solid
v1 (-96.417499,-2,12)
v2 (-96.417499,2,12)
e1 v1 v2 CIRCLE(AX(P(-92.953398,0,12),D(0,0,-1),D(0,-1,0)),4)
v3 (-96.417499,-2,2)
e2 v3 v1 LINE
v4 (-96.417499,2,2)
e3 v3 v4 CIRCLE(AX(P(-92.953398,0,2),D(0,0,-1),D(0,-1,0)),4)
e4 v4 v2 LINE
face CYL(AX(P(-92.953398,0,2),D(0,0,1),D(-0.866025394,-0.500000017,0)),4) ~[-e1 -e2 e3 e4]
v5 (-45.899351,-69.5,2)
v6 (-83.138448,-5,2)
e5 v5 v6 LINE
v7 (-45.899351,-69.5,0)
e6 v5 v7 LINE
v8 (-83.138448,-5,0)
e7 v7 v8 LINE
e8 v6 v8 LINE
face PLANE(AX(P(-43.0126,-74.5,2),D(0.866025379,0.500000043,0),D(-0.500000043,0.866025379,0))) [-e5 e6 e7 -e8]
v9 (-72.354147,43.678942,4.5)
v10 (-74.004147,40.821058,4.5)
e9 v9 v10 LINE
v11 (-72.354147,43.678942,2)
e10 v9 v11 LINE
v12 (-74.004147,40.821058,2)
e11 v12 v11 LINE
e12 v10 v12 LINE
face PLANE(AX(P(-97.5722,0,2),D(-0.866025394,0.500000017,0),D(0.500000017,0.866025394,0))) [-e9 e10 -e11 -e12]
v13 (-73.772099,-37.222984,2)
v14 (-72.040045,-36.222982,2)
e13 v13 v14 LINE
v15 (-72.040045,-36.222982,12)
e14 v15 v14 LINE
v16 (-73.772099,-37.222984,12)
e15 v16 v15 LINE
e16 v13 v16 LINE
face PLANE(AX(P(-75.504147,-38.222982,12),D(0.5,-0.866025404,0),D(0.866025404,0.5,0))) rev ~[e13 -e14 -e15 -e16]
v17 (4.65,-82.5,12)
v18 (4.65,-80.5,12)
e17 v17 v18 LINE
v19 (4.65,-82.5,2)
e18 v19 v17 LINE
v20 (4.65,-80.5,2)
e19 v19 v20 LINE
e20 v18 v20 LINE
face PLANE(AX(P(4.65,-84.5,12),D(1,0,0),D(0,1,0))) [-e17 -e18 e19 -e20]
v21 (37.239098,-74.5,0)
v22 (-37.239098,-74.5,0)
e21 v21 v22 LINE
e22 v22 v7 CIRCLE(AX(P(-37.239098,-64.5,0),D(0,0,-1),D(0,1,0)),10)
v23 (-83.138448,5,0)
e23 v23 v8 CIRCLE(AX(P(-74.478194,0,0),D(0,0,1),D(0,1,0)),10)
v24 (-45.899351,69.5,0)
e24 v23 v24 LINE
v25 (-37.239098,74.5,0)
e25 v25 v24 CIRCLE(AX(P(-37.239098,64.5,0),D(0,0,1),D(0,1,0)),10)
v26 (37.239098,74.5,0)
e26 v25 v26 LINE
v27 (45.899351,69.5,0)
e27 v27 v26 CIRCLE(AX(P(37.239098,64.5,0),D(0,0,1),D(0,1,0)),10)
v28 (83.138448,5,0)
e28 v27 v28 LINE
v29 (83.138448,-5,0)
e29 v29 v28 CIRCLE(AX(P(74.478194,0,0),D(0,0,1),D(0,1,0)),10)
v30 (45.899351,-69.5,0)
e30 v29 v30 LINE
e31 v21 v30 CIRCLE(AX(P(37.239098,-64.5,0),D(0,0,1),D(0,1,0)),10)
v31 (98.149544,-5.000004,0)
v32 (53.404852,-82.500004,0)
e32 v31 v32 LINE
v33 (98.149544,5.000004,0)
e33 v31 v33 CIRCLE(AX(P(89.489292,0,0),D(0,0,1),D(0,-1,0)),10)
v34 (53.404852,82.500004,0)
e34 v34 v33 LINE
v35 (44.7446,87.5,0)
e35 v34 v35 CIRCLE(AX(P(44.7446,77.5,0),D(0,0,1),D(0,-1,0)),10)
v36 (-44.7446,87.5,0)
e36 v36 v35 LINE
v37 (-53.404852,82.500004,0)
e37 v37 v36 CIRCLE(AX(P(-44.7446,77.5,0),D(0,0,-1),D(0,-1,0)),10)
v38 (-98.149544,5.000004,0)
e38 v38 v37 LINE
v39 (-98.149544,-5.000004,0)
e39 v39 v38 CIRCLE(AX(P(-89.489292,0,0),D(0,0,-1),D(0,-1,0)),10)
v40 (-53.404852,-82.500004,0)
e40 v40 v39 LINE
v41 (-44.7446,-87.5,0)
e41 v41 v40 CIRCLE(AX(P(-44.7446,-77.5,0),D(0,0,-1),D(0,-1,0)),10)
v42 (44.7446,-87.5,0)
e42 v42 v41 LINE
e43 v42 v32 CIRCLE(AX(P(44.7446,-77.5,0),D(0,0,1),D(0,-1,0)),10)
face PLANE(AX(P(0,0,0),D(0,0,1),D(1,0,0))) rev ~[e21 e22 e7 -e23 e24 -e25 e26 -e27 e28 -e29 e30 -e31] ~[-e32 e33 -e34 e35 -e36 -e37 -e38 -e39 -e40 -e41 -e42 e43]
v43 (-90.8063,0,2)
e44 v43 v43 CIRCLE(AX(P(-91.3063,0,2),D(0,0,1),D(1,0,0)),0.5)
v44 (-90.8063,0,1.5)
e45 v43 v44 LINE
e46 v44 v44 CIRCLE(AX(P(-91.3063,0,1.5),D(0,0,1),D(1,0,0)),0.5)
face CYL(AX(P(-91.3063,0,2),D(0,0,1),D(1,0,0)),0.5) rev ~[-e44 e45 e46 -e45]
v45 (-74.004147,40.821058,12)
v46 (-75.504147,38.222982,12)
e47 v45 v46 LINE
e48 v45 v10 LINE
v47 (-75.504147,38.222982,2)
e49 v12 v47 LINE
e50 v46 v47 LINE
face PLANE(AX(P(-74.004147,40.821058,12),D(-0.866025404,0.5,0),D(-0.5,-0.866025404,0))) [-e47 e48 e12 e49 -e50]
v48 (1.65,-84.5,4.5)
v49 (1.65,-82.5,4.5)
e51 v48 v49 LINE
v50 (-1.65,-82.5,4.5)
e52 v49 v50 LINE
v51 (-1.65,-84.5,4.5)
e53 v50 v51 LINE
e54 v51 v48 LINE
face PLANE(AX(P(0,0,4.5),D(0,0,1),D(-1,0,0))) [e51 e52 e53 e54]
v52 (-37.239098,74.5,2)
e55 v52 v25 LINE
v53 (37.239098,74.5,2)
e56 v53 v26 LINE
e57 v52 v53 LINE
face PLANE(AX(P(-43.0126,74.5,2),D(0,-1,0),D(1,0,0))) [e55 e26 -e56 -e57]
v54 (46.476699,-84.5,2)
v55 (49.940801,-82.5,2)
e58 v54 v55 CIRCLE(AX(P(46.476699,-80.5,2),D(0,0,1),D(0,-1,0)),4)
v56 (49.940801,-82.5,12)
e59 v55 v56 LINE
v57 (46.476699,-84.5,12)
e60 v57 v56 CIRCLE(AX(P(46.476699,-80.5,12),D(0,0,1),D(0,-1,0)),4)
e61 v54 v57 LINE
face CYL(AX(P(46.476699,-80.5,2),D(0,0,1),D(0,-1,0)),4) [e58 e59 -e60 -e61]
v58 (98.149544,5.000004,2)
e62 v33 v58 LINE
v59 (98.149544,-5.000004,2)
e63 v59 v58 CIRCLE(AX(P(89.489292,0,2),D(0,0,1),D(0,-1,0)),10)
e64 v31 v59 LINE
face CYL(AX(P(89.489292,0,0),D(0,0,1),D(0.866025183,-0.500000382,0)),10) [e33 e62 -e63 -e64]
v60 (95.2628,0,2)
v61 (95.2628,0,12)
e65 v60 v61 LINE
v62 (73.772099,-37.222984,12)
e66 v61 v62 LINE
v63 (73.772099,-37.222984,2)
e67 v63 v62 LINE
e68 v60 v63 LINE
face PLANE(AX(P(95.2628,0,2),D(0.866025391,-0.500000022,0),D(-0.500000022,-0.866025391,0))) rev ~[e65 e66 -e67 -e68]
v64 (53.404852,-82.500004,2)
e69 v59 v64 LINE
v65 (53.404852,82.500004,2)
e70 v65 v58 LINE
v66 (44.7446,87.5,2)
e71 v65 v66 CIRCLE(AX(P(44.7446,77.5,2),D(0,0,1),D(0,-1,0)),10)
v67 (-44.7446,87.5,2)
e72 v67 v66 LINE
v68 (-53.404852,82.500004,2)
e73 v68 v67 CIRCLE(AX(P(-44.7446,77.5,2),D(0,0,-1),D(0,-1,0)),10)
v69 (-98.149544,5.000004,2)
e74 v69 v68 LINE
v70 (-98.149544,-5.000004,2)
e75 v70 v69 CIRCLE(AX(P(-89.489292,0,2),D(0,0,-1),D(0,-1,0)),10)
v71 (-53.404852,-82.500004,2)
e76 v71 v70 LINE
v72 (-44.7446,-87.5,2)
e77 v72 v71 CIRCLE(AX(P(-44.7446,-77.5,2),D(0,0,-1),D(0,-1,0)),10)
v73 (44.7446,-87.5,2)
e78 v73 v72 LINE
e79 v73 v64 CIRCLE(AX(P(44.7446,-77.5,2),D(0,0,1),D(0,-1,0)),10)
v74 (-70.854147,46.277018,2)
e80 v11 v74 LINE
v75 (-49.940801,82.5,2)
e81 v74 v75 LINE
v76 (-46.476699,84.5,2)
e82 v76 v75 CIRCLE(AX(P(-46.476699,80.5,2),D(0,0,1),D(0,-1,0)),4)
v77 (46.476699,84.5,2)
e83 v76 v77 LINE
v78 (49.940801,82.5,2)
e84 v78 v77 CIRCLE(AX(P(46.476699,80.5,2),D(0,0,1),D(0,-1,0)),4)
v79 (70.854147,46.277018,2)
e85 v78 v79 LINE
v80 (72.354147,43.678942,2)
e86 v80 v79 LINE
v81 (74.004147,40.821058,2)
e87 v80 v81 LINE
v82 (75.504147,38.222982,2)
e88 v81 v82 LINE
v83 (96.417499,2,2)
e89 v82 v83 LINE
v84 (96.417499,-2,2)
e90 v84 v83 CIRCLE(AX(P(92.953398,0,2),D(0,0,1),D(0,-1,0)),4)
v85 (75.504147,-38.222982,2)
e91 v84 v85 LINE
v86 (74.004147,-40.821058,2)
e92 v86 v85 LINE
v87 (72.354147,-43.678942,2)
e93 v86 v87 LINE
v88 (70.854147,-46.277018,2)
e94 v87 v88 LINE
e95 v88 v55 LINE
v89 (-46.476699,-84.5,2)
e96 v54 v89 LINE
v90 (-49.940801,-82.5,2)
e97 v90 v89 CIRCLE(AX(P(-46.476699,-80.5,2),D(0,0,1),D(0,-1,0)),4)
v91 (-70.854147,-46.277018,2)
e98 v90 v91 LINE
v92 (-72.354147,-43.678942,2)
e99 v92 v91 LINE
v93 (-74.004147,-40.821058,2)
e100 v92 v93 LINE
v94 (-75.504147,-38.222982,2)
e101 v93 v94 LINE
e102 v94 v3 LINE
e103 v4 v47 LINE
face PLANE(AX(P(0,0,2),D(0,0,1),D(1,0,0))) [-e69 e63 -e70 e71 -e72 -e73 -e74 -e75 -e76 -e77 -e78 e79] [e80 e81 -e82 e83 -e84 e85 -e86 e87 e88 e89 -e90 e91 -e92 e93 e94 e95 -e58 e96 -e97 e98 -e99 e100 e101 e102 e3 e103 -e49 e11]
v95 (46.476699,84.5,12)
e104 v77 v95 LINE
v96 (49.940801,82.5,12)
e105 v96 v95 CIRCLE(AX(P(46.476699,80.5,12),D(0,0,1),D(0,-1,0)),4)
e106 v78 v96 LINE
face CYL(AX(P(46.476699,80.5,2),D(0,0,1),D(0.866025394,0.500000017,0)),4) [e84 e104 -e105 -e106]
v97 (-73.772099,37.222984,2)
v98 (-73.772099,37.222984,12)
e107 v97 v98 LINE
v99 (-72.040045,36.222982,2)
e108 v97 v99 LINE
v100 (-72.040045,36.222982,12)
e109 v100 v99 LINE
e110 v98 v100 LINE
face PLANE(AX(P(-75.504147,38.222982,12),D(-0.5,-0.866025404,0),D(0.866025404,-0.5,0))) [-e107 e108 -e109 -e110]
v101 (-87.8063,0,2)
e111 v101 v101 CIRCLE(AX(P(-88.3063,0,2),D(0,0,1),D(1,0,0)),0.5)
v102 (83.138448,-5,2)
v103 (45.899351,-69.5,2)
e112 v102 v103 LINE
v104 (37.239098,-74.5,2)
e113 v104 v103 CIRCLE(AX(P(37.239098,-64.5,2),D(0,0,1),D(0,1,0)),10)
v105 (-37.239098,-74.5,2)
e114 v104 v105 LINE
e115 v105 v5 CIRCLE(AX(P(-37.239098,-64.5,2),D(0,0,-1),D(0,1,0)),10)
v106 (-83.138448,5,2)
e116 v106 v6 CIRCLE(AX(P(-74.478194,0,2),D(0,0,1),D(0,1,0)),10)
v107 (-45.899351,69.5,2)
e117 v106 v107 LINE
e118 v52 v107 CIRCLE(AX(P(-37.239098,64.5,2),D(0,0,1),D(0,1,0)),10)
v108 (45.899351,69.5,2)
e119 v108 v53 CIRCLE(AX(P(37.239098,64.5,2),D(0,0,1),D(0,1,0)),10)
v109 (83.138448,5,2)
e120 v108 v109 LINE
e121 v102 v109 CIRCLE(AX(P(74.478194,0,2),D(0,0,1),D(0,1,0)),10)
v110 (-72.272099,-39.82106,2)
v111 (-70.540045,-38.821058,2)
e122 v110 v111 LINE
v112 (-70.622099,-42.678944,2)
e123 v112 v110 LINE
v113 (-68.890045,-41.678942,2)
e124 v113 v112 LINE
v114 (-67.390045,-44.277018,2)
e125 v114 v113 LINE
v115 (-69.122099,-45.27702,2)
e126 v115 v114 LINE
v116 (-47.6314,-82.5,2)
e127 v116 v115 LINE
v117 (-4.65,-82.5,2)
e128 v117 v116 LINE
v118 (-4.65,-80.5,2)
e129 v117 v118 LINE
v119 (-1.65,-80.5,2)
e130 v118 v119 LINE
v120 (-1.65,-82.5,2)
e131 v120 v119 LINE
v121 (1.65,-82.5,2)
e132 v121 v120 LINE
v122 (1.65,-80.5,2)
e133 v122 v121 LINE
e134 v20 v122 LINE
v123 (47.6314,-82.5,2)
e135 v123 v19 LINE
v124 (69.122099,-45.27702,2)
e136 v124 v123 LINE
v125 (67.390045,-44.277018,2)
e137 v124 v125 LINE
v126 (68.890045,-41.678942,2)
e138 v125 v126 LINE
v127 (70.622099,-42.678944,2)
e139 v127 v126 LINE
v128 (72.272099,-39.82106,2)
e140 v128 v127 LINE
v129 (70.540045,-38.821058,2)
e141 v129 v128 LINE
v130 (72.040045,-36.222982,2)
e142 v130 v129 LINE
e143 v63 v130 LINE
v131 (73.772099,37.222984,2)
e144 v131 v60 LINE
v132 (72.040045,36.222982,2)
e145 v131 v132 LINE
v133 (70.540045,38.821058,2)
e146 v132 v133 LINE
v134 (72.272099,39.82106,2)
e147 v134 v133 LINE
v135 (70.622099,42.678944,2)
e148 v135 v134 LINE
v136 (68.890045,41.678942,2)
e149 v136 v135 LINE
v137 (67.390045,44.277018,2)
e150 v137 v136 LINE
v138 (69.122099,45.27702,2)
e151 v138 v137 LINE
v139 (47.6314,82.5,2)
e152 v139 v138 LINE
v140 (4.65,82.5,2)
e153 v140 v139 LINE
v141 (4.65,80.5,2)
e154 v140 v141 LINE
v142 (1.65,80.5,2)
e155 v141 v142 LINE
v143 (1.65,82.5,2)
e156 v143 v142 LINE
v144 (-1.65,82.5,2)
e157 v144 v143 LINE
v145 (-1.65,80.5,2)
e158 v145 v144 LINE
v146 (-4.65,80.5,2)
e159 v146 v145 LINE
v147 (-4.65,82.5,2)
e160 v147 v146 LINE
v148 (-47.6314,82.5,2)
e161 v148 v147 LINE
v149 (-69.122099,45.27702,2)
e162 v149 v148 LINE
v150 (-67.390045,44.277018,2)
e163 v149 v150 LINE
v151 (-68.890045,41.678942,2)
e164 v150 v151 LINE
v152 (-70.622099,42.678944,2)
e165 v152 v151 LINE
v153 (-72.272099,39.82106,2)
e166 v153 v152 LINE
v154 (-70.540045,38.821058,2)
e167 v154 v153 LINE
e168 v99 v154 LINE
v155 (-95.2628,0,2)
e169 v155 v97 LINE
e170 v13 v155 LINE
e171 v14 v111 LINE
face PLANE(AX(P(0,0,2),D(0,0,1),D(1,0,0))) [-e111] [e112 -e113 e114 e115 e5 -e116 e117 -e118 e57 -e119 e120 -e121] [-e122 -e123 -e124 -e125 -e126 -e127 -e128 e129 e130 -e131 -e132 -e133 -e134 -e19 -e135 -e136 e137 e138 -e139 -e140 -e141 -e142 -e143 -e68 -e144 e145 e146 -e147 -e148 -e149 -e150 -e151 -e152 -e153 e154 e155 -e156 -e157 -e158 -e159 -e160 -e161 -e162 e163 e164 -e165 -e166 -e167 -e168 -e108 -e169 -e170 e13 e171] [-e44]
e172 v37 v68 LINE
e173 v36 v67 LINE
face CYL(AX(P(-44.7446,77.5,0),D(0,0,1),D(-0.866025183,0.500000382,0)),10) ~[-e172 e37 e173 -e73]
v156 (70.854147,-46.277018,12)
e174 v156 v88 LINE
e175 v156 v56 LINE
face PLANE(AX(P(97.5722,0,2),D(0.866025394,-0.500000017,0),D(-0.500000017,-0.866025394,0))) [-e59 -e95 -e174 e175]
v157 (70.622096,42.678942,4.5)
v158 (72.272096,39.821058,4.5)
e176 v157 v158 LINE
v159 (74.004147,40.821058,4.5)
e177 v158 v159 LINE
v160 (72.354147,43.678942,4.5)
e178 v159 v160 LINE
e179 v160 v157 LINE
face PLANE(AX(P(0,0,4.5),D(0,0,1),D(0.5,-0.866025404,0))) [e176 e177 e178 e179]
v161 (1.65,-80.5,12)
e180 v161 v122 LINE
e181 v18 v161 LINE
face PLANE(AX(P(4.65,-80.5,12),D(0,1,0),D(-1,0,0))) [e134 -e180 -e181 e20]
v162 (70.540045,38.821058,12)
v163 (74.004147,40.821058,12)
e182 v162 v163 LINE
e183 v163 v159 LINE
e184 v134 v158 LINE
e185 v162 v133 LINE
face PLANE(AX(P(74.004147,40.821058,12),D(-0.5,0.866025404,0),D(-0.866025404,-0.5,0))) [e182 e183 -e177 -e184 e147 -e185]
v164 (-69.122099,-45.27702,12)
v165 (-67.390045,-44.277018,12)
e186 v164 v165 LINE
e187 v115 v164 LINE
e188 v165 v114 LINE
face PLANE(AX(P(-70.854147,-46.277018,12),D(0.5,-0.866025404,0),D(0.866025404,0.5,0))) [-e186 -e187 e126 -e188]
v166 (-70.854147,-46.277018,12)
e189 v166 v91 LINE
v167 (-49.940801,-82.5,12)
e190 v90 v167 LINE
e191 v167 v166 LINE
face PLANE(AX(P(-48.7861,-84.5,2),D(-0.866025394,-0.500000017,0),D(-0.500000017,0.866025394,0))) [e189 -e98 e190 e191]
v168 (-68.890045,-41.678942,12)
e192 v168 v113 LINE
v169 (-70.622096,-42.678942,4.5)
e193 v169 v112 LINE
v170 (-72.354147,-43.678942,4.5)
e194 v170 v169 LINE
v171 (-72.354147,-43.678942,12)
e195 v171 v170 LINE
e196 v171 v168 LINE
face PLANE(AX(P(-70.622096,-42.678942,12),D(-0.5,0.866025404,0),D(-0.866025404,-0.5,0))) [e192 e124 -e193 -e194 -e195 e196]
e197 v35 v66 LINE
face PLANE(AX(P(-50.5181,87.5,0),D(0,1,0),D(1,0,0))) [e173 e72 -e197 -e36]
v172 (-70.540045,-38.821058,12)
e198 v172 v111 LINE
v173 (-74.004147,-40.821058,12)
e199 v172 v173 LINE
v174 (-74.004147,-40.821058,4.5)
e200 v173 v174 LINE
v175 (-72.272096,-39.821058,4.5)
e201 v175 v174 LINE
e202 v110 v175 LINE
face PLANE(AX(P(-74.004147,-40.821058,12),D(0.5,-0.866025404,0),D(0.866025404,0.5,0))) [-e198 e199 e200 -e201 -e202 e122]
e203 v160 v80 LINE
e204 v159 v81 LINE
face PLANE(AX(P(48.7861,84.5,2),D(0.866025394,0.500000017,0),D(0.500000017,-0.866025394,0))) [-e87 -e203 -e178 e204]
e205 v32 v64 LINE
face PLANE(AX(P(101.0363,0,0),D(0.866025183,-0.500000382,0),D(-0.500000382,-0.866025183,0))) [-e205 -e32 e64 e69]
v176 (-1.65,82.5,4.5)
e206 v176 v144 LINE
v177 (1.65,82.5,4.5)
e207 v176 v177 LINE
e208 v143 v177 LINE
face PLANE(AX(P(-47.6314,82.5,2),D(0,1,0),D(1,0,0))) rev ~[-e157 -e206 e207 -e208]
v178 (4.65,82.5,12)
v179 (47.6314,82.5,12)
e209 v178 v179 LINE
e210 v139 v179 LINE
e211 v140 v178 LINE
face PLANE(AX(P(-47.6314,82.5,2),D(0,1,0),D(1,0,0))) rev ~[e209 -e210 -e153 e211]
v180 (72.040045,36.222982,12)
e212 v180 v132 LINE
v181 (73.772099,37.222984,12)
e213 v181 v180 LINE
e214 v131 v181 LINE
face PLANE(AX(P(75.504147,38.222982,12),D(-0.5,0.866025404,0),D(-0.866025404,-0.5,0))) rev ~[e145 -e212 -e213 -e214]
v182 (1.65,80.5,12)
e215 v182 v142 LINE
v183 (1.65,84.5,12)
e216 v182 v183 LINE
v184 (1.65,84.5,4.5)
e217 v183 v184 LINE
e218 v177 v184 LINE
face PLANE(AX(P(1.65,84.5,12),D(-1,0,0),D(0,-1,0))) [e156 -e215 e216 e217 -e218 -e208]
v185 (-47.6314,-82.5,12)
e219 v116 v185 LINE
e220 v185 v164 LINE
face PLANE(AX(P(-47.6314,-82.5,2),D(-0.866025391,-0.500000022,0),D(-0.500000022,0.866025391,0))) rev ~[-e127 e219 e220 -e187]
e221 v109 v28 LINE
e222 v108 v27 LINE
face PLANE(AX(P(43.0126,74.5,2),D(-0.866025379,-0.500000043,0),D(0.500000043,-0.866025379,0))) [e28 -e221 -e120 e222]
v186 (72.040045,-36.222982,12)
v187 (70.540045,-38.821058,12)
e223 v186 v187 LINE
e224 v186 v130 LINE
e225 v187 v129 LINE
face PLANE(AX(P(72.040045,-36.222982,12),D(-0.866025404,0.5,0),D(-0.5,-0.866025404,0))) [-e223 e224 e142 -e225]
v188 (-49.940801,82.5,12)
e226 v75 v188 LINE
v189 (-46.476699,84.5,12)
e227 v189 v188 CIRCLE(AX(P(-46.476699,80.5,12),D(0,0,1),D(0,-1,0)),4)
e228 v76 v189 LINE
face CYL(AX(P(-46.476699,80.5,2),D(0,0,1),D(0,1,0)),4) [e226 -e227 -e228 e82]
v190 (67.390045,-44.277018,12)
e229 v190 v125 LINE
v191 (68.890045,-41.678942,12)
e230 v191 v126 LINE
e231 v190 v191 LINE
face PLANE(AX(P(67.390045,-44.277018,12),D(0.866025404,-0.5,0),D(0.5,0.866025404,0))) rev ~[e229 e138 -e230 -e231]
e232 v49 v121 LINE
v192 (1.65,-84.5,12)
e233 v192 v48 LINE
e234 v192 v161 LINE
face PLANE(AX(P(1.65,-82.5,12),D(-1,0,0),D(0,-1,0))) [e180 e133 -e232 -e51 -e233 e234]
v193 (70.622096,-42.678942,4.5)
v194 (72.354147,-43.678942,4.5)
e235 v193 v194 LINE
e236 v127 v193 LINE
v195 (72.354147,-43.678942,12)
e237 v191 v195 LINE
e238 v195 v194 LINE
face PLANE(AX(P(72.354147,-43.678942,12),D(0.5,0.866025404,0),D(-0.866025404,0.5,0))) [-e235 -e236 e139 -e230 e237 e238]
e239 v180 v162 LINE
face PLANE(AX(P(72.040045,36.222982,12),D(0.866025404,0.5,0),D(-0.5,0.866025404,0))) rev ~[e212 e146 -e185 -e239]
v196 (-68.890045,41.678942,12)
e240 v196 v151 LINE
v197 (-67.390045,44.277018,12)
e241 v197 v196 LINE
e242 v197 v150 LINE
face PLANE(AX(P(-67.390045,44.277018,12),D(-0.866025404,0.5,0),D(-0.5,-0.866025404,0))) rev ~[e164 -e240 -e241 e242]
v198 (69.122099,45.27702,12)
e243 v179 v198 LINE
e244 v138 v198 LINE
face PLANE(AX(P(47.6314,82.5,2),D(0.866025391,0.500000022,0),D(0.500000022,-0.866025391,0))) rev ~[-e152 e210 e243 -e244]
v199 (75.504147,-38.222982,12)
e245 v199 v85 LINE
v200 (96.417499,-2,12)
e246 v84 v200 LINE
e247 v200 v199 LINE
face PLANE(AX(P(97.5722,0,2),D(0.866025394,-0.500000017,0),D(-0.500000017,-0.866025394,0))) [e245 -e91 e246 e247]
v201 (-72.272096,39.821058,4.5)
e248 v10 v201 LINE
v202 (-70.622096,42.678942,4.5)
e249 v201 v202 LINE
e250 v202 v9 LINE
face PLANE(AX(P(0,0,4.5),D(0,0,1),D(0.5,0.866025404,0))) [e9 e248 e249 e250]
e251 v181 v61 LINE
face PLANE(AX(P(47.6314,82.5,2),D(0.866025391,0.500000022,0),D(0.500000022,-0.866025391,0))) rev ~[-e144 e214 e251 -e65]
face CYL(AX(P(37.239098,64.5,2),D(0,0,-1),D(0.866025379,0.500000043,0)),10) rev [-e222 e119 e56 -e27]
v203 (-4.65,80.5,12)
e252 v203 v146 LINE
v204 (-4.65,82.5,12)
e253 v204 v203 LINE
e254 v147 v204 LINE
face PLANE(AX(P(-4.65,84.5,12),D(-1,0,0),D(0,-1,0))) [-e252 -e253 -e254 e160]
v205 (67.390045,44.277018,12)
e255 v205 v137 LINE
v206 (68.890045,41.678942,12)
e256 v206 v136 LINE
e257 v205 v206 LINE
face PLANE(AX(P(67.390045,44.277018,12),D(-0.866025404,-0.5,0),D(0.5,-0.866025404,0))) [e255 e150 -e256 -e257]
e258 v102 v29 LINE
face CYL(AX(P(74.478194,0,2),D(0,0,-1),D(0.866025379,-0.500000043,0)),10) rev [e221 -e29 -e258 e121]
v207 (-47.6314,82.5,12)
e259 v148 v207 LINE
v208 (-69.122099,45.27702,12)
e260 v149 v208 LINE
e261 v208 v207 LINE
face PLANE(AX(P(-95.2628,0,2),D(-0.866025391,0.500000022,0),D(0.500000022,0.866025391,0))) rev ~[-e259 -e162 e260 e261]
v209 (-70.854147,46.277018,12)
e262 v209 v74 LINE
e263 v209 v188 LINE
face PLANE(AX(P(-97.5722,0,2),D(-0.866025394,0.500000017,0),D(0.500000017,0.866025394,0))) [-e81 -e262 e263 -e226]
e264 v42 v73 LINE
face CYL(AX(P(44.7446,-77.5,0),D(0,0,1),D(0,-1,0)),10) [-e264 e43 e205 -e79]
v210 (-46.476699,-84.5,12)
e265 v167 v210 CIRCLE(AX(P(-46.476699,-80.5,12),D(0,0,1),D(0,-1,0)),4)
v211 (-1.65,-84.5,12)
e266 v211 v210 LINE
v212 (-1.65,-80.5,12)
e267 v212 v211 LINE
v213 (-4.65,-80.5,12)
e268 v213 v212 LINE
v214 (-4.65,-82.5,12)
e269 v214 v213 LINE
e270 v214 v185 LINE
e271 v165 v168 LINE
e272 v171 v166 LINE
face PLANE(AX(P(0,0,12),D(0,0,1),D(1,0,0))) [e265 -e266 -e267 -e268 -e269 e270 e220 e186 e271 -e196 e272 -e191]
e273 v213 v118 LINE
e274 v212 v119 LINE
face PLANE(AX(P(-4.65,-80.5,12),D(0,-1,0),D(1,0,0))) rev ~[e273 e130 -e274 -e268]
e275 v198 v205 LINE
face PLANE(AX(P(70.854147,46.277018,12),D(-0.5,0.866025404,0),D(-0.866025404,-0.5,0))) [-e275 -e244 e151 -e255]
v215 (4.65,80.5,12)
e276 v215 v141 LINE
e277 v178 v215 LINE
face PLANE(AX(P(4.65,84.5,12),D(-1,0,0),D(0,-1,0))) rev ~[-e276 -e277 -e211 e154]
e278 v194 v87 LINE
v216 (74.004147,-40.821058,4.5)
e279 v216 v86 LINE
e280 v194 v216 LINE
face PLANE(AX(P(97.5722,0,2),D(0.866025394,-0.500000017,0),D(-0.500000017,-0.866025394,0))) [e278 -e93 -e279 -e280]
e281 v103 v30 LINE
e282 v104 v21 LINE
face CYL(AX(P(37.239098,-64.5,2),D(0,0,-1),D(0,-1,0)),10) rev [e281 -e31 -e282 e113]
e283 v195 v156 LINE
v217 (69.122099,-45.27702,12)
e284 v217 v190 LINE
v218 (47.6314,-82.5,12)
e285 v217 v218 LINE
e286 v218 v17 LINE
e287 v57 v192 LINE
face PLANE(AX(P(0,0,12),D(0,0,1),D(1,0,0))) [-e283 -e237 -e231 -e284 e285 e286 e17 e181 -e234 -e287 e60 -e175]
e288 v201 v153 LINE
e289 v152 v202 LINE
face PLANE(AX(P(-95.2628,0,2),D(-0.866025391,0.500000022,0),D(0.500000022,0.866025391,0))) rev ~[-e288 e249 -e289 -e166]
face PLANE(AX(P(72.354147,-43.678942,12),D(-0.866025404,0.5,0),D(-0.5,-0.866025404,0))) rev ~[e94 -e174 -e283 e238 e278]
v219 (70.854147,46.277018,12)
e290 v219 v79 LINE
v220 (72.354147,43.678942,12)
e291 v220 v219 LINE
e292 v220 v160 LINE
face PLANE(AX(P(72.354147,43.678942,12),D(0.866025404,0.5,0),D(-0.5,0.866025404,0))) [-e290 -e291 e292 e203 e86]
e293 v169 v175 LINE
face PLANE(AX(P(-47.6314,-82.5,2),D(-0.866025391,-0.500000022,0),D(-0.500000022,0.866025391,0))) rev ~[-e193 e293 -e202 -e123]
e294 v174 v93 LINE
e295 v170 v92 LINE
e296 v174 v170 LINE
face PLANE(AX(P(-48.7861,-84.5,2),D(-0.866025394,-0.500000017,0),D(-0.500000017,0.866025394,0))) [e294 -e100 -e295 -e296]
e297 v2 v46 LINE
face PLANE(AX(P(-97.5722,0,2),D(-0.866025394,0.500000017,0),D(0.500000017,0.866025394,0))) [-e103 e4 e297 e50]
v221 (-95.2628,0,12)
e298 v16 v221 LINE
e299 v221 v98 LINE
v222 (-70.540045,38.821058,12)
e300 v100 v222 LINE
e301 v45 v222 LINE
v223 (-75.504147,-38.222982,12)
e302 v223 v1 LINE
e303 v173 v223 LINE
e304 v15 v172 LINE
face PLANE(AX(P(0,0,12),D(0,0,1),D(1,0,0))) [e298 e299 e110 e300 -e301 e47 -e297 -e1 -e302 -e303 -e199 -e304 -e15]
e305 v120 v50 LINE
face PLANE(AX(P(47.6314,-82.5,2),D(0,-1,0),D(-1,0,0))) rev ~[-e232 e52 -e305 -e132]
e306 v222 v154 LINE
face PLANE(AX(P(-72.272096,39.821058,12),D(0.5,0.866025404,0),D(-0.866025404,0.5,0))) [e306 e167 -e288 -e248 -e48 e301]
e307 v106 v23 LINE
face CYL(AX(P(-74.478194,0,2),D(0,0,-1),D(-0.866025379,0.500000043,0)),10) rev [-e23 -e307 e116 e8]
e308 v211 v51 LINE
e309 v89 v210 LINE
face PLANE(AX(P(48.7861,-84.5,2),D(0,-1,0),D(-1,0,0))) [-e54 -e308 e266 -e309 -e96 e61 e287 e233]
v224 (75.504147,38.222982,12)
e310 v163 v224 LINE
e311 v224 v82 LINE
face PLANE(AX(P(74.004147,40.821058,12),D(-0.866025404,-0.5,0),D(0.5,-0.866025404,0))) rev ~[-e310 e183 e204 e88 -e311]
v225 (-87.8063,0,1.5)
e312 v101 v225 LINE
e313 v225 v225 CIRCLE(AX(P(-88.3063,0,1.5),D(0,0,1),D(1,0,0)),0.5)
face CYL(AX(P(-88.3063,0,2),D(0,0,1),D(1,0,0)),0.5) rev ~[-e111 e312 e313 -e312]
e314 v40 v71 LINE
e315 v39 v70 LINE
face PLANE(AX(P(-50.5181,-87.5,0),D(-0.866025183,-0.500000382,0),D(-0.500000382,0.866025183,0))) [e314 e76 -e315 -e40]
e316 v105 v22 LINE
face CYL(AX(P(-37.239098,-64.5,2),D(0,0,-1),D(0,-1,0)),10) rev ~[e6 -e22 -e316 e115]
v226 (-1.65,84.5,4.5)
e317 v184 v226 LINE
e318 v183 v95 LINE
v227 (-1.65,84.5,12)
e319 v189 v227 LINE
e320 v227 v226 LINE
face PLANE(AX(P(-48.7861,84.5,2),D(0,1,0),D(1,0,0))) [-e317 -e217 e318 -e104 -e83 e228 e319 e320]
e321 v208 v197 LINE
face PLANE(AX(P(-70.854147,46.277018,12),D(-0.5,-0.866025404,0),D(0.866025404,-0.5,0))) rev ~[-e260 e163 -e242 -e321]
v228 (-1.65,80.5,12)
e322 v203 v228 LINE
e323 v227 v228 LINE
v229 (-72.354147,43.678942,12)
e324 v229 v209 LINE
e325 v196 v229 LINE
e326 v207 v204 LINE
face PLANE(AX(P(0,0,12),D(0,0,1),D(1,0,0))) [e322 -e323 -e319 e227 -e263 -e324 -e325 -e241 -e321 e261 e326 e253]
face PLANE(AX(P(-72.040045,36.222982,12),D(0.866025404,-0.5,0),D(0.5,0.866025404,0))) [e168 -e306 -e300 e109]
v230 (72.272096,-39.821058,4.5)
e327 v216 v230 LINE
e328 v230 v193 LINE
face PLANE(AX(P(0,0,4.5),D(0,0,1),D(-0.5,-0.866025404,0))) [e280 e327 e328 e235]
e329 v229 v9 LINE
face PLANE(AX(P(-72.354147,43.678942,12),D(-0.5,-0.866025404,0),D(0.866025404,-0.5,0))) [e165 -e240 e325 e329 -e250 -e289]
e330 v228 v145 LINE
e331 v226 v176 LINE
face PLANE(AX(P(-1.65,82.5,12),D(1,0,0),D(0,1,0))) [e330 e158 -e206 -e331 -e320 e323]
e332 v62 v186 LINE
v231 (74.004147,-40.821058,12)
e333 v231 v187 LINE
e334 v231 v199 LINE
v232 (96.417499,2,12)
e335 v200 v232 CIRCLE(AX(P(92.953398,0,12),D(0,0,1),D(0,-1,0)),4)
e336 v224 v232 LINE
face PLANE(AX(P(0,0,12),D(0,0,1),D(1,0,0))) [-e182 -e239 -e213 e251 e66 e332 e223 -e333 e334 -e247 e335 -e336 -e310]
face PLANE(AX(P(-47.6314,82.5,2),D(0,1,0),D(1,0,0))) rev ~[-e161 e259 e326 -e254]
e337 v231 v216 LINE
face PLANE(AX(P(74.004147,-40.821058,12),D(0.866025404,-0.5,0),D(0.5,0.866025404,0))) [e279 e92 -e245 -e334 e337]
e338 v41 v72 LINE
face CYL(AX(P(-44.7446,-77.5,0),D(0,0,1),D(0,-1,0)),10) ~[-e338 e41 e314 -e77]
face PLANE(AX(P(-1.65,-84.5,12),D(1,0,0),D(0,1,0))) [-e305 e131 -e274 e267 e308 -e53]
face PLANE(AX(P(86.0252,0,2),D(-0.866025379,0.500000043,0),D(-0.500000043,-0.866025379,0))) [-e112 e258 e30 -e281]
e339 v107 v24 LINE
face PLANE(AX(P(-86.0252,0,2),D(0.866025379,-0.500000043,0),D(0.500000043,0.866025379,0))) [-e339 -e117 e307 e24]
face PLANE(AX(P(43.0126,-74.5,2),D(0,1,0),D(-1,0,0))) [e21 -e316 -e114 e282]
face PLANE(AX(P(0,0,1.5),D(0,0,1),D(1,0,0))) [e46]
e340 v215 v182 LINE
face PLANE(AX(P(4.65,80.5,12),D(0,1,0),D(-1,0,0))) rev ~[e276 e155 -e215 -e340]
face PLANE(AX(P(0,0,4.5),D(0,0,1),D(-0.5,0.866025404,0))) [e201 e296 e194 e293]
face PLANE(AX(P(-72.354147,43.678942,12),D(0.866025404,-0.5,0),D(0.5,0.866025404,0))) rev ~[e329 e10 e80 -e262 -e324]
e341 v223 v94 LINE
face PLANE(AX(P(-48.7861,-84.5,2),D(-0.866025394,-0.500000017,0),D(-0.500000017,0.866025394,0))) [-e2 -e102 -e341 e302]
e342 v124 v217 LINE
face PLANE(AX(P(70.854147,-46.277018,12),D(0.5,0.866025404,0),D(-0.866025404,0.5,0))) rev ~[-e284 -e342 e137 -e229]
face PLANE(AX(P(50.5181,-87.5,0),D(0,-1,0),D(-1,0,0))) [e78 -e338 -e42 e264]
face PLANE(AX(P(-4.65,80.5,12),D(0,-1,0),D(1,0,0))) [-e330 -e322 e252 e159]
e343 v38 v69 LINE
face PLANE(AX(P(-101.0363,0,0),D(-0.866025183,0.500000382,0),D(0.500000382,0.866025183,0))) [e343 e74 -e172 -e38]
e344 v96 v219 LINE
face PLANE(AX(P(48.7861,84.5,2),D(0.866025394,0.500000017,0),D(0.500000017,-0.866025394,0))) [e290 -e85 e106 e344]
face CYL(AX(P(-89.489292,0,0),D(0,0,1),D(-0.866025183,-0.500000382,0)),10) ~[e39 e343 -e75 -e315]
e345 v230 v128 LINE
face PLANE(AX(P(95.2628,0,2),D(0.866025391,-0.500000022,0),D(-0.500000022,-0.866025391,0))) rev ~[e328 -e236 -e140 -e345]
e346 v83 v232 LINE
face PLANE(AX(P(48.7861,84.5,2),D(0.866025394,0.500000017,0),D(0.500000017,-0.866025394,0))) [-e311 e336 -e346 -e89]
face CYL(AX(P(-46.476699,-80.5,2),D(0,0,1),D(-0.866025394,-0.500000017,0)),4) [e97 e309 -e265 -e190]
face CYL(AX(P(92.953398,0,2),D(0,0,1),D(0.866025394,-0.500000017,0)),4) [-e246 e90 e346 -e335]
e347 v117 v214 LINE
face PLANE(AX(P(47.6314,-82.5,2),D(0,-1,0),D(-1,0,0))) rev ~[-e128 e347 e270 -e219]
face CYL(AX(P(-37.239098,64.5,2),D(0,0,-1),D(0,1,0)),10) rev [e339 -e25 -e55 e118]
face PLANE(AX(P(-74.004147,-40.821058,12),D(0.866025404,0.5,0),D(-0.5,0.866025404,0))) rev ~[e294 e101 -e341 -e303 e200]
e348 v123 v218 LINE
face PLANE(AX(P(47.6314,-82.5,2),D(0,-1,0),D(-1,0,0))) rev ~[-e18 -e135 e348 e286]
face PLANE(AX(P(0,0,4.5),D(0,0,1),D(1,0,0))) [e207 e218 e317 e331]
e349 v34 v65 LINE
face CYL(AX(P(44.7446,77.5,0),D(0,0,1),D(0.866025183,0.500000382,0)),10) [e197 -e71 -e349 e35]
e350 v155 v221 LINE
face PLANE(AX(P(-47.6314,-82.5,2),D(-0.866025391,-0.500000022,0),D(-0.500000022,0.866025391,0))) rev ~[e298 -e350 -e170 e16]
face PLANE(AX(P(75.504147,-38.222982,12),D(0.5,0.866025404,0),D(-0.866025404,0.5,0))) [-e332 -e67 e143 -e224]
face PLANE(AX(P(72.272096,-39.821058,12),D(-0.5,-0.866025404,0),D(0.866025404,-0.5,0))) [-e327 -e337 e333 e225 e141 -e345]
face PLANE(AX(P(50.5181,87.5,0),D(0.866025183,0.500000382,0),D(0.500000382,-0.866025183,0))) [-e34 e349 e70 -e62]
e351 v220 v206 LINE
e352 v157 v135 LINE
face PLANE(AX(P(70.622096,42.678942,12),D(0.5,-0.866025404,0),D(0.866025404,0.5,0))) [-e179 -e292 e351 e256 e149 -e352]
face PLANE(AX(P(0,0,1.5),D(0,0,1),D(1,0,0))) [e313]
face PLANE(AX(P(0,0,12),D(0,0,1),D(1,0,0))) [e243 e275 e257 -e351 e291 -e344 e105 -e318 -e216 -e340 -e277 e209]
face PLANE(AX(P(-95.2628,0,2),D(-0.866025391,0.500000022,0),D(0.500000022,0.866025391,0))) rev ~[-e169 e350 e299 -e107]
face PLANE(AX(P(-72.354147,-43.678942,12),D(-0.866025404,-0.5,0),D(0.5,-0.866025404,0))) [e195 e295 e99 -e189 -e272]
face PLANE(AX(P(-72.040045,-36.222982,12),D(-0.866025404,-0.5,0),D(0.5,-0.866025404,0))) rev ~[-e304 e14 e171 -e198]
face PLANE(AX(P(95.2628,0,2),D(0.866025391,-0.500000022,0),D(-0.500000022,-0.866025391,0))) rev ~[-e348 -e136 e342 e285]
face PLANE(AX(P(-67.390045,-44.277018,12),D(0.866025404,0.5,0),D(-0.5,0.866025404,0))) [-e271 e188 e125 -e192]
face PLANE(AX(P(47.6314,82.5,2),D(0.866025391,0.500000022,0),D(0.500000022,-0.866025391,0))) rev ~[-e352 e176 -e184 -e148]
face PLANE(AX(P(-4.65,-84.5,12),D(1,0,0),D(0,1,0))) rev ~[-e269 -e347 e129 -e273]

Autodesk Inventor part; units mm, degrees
ref_plane "YZ Plane" through (0, 0, 0) normal (1, 0, 0) x (0, 1, 0)
ref_plane "XZ Plane" through (0, 0, 0) normal (0, 1, 0) x (-1, 0, 0)
ref_plane "XY Plane" through (0, 0, 0) normal (0, 0, 1) x (1, 0, 0)
sketch "Sketch1" plane through (0, 0, 0) normal (0, 0, 1) x (1, 0, 0)
  line L0 (50.5181, -87.5) -> (-50.5181, -87.5)
  line L1 (-50.5181, -87.5) -> (-101.0363, 0)
  line L2 (-101.0363, 0) -> (-50.5181, 87.5)
  line L3 (-50.5181, 87.5) -> (50.5181, 87.5)
  line L4 (50.5181, 87.5) -> (101.0363, 0)
  line L5 (101.0363, 0) -> (50.5181, -87.5)
  point P0 (0, 0)
  point P1 (0, 0)
  dimension "d0" = 175
extrude "Extrusion1" add sketch "Sketch1" along normal blind 2
sketch "Sketch5" plane through (0, 0, 2) normal (0, 0, 1) x (1, 0, 0)
  line L0 (-50.5181, -87.5) -> (50.5181, -87.5) projected
  line L1 (50.5181, -87.5) -> (101.0363, 0) projected
  line L2 (101.0363, 0) -> (50.5181, 87.5) projected
  line L3 (50.5181, 87.5) -> (-50.5181, 87.5) projected
  line L4 (-50.5181, 87.5) -> (-101.0363, 0) projected
  line L5 (-101.0363, 0) -> (-50.5181, -87.5) projected
  line L6 (-97.5722, 0) -> (-48.7861, 84.5)
  line L7 (-48.7861, 84.5) -> (48.7861, 84.5)
  line L8 (48.7861, 84.5) -> (97.5722, 0)
  line L9 (97.5722, 0) -> (48.7861, -84.5)
  line L10 (48.7861, -84.5) -> (-48.7861, -84.5)
  line L11 (-48.7861, -84.5) -> (-97.5722, 0)
  line L12 (-95.2628, 0) -> (-47.6314, 82.5)
  line L13 (-47.6314, 82.5) -> (47.6314, 82.5)
  line L14 (47.6314, 82.5) -> (95.2628, 0)
  line L15 (95.2628, 0) -> (47.6314, -82.5)
  line L16 (47.6314, -82.5) -> (-47.6314, -82.5)
  line L17 (-47.6314, -82.5) -> (-95.2628, 0)
  point P0 (0, 0)
  dimension "d15" = 3
  dimension "d16" = 2
extrude "Extrusion5" add sketch "Sketch5" along normal blind 10 contours L6 L7 L8 L9 L10 L11
sketch "Sketch7" plane through (0, 0, 2) normal (0, 0, 1) x (1, 0, 0)
  line L0 (47.6314, 82.5) -> (-47.6314, 82.5) projected
  line L1 (-47.6314, 82.5) -> (-95.2628, 0) projected
  line L2 (-95.2628, 0) -> (-47.6314, -82.5) projected
  line L3 (-47.6314, -82.5) -> (47.6314, -82.5) projected
  line L4 (47.6314, -82.5) -> (95.2628, 0) projected
  line L5 (95.2628, 0) -> (47.6314, 82.5) projected
  line L6 (-43.0126, -74.5) -> (-86.0252, 0)
  line L7 (-86.0252, 0) -> (-43.0126, 74.5)
  line L8 (-43.0126, 74.5) -> (43.0126, 74.5)
  line L9 (43.0126, 74.5) -> (86.0252, 0)
  line L10 (86.0252, 0) -> (43.0126, -74.5)
  line L11 (43.0126, -74.5) -> (-43.0126, -74.5)
  point P0 (0, 0)
  dimension "d19" = 8
extrude "Extrusion6" cut sketch "Sketch7" against normal blind 7 contours L6 L7 L8 L9 L10 L11
fillet "Fillet1" radius 10 6 edges at (50.5181, 87.5, 1) (101.0363, 0, 1) (50.5181, -87.5, 1) (-50.5181, -87.5, 1) (-101.0363, 0, 1) (-50.5181, 87.5, 1)
fillet "Fillet1" radius 4 6 edges at (-97.5722, 0, 7) (-48.7861, 84.5, 7) (48.7861, 84.5, 7) (97.5722, 0, 7) (-48.7861, -84.5, 7) (48.7861, -84.5, 7)
fillet "Fillet2" radius 10 6 edges at (43.0126, -74.5, 1) (86.0252, 0, 1) (43.0126, 74.5, 1) (-43.0126, 74.5, 1) (-86.0252, 0, 1) (-43.0126, -74.5, 1)
sketch "Sketch8" plane through (0, 0, 12) normal (0, 0, 1) x (1, 0, 0)
  line L0 (-1.65, 82.5) -> (1.65, 82.5)
  line L1 (1.65, 82.5) -> (1.65, 84.5)
  line L2 (1.65, 84.5) -> (-1.65, 84.5)
  line L3 (-1.65, 84.5) -> (-1.65, 82.5)
  line L4 (46.4767, 84.5) -> (-46.4767, 84.5) projected
  line L5 (-47.6314, 82.5) -> (47.6314, 82.5) projected
  point P0 (0, 0)
  point P1 (0, 84.5)
  point P2 (0, 84.5)
  point P3 (-45.8993, 83.5)
  point P4 (45.8993, 83.5)
  point P5 (0, 0)
  dimension "d25" = 3.3
extrude "Extrusion7" cut sketch "Sketch8" against normal blind 7.5
sketch "Sketch9" plane through (0, 0, 12) normal (0, 0, 1) x (1, 0, 0)
  line L0 (-4.65, 80.5) -> (-1.65, 80.5)
  line L1 (-1.65, 80.5) -> (-1.65, 84.5)
  line L2 (-1.65, 84.5) -> (-4.65, 84.5)
  line L3 (-4.65, 84.5) -> (-4.65, 80.5)
  line L4 (1.65, 82.5) -> (-1.65, 82.5) projected
  line L5 (1.65, 84.5) -> (1.65, 82.5) projected
  line L6 (-1.65, 84.5) -> (1.65, 84.5) projected
  line L7 (-1.65, 82.5) -> (-1.65, 84.5) projected
  line L8 (0, 82.5) -> (0, 81.6202) construction
  line L9 (1.65, 82.5) -> (-1.65, 82.5) projected
  line L10 (-1.65, 82.5) -> (-1.65, 84.5) projected
  line L11 (4.65, 80.5) -> (1.65, 80.5)
  line L12 (1.65, 80.5) -> (1.65, 84.5)
  line L13 (1.65, 84.5) -> (4.65, 84.5)
  line L14 (4.65, 84.5) -> (4.65, 80.5)
  line L15 (-1.65, 84.5) -> (-46.4767, 84.5) projected
  point P0 (0, 0)
  point P1 (-45.8993, 83.5)
  dimension "d28" = 4
  dimension "d29" = 3
extrude "Extrusion8" add sketch "Sketch9" against normal up to surface (10 mm away) contours L3 L2 L1 L0 | L5 L13 L14 L11 L12
pattern_circular "Circular Pattern1" count 6 over 360 about axis through (0, 0, 0) along (0, 0, 1) of "Extrusion8", "Extrusion7"
sketch "Sketch11" plane through (0, 0, 2) normal (0, 0, 1) x (1, 0, 0)
  circle A0 centre (-91.3063, 0) radius 0.5
  circle A1 centre (-88.3063, 0) radius 0.5
  point P0 (0, 0)
  point P1 (-95.2628, 0)
  dimension "d35" = 1
  dimension "d36" = 3
extrude "Extrusion9" cut sketch "Sketch11" against normal blind 0.5
properties part number "Cover v1"
